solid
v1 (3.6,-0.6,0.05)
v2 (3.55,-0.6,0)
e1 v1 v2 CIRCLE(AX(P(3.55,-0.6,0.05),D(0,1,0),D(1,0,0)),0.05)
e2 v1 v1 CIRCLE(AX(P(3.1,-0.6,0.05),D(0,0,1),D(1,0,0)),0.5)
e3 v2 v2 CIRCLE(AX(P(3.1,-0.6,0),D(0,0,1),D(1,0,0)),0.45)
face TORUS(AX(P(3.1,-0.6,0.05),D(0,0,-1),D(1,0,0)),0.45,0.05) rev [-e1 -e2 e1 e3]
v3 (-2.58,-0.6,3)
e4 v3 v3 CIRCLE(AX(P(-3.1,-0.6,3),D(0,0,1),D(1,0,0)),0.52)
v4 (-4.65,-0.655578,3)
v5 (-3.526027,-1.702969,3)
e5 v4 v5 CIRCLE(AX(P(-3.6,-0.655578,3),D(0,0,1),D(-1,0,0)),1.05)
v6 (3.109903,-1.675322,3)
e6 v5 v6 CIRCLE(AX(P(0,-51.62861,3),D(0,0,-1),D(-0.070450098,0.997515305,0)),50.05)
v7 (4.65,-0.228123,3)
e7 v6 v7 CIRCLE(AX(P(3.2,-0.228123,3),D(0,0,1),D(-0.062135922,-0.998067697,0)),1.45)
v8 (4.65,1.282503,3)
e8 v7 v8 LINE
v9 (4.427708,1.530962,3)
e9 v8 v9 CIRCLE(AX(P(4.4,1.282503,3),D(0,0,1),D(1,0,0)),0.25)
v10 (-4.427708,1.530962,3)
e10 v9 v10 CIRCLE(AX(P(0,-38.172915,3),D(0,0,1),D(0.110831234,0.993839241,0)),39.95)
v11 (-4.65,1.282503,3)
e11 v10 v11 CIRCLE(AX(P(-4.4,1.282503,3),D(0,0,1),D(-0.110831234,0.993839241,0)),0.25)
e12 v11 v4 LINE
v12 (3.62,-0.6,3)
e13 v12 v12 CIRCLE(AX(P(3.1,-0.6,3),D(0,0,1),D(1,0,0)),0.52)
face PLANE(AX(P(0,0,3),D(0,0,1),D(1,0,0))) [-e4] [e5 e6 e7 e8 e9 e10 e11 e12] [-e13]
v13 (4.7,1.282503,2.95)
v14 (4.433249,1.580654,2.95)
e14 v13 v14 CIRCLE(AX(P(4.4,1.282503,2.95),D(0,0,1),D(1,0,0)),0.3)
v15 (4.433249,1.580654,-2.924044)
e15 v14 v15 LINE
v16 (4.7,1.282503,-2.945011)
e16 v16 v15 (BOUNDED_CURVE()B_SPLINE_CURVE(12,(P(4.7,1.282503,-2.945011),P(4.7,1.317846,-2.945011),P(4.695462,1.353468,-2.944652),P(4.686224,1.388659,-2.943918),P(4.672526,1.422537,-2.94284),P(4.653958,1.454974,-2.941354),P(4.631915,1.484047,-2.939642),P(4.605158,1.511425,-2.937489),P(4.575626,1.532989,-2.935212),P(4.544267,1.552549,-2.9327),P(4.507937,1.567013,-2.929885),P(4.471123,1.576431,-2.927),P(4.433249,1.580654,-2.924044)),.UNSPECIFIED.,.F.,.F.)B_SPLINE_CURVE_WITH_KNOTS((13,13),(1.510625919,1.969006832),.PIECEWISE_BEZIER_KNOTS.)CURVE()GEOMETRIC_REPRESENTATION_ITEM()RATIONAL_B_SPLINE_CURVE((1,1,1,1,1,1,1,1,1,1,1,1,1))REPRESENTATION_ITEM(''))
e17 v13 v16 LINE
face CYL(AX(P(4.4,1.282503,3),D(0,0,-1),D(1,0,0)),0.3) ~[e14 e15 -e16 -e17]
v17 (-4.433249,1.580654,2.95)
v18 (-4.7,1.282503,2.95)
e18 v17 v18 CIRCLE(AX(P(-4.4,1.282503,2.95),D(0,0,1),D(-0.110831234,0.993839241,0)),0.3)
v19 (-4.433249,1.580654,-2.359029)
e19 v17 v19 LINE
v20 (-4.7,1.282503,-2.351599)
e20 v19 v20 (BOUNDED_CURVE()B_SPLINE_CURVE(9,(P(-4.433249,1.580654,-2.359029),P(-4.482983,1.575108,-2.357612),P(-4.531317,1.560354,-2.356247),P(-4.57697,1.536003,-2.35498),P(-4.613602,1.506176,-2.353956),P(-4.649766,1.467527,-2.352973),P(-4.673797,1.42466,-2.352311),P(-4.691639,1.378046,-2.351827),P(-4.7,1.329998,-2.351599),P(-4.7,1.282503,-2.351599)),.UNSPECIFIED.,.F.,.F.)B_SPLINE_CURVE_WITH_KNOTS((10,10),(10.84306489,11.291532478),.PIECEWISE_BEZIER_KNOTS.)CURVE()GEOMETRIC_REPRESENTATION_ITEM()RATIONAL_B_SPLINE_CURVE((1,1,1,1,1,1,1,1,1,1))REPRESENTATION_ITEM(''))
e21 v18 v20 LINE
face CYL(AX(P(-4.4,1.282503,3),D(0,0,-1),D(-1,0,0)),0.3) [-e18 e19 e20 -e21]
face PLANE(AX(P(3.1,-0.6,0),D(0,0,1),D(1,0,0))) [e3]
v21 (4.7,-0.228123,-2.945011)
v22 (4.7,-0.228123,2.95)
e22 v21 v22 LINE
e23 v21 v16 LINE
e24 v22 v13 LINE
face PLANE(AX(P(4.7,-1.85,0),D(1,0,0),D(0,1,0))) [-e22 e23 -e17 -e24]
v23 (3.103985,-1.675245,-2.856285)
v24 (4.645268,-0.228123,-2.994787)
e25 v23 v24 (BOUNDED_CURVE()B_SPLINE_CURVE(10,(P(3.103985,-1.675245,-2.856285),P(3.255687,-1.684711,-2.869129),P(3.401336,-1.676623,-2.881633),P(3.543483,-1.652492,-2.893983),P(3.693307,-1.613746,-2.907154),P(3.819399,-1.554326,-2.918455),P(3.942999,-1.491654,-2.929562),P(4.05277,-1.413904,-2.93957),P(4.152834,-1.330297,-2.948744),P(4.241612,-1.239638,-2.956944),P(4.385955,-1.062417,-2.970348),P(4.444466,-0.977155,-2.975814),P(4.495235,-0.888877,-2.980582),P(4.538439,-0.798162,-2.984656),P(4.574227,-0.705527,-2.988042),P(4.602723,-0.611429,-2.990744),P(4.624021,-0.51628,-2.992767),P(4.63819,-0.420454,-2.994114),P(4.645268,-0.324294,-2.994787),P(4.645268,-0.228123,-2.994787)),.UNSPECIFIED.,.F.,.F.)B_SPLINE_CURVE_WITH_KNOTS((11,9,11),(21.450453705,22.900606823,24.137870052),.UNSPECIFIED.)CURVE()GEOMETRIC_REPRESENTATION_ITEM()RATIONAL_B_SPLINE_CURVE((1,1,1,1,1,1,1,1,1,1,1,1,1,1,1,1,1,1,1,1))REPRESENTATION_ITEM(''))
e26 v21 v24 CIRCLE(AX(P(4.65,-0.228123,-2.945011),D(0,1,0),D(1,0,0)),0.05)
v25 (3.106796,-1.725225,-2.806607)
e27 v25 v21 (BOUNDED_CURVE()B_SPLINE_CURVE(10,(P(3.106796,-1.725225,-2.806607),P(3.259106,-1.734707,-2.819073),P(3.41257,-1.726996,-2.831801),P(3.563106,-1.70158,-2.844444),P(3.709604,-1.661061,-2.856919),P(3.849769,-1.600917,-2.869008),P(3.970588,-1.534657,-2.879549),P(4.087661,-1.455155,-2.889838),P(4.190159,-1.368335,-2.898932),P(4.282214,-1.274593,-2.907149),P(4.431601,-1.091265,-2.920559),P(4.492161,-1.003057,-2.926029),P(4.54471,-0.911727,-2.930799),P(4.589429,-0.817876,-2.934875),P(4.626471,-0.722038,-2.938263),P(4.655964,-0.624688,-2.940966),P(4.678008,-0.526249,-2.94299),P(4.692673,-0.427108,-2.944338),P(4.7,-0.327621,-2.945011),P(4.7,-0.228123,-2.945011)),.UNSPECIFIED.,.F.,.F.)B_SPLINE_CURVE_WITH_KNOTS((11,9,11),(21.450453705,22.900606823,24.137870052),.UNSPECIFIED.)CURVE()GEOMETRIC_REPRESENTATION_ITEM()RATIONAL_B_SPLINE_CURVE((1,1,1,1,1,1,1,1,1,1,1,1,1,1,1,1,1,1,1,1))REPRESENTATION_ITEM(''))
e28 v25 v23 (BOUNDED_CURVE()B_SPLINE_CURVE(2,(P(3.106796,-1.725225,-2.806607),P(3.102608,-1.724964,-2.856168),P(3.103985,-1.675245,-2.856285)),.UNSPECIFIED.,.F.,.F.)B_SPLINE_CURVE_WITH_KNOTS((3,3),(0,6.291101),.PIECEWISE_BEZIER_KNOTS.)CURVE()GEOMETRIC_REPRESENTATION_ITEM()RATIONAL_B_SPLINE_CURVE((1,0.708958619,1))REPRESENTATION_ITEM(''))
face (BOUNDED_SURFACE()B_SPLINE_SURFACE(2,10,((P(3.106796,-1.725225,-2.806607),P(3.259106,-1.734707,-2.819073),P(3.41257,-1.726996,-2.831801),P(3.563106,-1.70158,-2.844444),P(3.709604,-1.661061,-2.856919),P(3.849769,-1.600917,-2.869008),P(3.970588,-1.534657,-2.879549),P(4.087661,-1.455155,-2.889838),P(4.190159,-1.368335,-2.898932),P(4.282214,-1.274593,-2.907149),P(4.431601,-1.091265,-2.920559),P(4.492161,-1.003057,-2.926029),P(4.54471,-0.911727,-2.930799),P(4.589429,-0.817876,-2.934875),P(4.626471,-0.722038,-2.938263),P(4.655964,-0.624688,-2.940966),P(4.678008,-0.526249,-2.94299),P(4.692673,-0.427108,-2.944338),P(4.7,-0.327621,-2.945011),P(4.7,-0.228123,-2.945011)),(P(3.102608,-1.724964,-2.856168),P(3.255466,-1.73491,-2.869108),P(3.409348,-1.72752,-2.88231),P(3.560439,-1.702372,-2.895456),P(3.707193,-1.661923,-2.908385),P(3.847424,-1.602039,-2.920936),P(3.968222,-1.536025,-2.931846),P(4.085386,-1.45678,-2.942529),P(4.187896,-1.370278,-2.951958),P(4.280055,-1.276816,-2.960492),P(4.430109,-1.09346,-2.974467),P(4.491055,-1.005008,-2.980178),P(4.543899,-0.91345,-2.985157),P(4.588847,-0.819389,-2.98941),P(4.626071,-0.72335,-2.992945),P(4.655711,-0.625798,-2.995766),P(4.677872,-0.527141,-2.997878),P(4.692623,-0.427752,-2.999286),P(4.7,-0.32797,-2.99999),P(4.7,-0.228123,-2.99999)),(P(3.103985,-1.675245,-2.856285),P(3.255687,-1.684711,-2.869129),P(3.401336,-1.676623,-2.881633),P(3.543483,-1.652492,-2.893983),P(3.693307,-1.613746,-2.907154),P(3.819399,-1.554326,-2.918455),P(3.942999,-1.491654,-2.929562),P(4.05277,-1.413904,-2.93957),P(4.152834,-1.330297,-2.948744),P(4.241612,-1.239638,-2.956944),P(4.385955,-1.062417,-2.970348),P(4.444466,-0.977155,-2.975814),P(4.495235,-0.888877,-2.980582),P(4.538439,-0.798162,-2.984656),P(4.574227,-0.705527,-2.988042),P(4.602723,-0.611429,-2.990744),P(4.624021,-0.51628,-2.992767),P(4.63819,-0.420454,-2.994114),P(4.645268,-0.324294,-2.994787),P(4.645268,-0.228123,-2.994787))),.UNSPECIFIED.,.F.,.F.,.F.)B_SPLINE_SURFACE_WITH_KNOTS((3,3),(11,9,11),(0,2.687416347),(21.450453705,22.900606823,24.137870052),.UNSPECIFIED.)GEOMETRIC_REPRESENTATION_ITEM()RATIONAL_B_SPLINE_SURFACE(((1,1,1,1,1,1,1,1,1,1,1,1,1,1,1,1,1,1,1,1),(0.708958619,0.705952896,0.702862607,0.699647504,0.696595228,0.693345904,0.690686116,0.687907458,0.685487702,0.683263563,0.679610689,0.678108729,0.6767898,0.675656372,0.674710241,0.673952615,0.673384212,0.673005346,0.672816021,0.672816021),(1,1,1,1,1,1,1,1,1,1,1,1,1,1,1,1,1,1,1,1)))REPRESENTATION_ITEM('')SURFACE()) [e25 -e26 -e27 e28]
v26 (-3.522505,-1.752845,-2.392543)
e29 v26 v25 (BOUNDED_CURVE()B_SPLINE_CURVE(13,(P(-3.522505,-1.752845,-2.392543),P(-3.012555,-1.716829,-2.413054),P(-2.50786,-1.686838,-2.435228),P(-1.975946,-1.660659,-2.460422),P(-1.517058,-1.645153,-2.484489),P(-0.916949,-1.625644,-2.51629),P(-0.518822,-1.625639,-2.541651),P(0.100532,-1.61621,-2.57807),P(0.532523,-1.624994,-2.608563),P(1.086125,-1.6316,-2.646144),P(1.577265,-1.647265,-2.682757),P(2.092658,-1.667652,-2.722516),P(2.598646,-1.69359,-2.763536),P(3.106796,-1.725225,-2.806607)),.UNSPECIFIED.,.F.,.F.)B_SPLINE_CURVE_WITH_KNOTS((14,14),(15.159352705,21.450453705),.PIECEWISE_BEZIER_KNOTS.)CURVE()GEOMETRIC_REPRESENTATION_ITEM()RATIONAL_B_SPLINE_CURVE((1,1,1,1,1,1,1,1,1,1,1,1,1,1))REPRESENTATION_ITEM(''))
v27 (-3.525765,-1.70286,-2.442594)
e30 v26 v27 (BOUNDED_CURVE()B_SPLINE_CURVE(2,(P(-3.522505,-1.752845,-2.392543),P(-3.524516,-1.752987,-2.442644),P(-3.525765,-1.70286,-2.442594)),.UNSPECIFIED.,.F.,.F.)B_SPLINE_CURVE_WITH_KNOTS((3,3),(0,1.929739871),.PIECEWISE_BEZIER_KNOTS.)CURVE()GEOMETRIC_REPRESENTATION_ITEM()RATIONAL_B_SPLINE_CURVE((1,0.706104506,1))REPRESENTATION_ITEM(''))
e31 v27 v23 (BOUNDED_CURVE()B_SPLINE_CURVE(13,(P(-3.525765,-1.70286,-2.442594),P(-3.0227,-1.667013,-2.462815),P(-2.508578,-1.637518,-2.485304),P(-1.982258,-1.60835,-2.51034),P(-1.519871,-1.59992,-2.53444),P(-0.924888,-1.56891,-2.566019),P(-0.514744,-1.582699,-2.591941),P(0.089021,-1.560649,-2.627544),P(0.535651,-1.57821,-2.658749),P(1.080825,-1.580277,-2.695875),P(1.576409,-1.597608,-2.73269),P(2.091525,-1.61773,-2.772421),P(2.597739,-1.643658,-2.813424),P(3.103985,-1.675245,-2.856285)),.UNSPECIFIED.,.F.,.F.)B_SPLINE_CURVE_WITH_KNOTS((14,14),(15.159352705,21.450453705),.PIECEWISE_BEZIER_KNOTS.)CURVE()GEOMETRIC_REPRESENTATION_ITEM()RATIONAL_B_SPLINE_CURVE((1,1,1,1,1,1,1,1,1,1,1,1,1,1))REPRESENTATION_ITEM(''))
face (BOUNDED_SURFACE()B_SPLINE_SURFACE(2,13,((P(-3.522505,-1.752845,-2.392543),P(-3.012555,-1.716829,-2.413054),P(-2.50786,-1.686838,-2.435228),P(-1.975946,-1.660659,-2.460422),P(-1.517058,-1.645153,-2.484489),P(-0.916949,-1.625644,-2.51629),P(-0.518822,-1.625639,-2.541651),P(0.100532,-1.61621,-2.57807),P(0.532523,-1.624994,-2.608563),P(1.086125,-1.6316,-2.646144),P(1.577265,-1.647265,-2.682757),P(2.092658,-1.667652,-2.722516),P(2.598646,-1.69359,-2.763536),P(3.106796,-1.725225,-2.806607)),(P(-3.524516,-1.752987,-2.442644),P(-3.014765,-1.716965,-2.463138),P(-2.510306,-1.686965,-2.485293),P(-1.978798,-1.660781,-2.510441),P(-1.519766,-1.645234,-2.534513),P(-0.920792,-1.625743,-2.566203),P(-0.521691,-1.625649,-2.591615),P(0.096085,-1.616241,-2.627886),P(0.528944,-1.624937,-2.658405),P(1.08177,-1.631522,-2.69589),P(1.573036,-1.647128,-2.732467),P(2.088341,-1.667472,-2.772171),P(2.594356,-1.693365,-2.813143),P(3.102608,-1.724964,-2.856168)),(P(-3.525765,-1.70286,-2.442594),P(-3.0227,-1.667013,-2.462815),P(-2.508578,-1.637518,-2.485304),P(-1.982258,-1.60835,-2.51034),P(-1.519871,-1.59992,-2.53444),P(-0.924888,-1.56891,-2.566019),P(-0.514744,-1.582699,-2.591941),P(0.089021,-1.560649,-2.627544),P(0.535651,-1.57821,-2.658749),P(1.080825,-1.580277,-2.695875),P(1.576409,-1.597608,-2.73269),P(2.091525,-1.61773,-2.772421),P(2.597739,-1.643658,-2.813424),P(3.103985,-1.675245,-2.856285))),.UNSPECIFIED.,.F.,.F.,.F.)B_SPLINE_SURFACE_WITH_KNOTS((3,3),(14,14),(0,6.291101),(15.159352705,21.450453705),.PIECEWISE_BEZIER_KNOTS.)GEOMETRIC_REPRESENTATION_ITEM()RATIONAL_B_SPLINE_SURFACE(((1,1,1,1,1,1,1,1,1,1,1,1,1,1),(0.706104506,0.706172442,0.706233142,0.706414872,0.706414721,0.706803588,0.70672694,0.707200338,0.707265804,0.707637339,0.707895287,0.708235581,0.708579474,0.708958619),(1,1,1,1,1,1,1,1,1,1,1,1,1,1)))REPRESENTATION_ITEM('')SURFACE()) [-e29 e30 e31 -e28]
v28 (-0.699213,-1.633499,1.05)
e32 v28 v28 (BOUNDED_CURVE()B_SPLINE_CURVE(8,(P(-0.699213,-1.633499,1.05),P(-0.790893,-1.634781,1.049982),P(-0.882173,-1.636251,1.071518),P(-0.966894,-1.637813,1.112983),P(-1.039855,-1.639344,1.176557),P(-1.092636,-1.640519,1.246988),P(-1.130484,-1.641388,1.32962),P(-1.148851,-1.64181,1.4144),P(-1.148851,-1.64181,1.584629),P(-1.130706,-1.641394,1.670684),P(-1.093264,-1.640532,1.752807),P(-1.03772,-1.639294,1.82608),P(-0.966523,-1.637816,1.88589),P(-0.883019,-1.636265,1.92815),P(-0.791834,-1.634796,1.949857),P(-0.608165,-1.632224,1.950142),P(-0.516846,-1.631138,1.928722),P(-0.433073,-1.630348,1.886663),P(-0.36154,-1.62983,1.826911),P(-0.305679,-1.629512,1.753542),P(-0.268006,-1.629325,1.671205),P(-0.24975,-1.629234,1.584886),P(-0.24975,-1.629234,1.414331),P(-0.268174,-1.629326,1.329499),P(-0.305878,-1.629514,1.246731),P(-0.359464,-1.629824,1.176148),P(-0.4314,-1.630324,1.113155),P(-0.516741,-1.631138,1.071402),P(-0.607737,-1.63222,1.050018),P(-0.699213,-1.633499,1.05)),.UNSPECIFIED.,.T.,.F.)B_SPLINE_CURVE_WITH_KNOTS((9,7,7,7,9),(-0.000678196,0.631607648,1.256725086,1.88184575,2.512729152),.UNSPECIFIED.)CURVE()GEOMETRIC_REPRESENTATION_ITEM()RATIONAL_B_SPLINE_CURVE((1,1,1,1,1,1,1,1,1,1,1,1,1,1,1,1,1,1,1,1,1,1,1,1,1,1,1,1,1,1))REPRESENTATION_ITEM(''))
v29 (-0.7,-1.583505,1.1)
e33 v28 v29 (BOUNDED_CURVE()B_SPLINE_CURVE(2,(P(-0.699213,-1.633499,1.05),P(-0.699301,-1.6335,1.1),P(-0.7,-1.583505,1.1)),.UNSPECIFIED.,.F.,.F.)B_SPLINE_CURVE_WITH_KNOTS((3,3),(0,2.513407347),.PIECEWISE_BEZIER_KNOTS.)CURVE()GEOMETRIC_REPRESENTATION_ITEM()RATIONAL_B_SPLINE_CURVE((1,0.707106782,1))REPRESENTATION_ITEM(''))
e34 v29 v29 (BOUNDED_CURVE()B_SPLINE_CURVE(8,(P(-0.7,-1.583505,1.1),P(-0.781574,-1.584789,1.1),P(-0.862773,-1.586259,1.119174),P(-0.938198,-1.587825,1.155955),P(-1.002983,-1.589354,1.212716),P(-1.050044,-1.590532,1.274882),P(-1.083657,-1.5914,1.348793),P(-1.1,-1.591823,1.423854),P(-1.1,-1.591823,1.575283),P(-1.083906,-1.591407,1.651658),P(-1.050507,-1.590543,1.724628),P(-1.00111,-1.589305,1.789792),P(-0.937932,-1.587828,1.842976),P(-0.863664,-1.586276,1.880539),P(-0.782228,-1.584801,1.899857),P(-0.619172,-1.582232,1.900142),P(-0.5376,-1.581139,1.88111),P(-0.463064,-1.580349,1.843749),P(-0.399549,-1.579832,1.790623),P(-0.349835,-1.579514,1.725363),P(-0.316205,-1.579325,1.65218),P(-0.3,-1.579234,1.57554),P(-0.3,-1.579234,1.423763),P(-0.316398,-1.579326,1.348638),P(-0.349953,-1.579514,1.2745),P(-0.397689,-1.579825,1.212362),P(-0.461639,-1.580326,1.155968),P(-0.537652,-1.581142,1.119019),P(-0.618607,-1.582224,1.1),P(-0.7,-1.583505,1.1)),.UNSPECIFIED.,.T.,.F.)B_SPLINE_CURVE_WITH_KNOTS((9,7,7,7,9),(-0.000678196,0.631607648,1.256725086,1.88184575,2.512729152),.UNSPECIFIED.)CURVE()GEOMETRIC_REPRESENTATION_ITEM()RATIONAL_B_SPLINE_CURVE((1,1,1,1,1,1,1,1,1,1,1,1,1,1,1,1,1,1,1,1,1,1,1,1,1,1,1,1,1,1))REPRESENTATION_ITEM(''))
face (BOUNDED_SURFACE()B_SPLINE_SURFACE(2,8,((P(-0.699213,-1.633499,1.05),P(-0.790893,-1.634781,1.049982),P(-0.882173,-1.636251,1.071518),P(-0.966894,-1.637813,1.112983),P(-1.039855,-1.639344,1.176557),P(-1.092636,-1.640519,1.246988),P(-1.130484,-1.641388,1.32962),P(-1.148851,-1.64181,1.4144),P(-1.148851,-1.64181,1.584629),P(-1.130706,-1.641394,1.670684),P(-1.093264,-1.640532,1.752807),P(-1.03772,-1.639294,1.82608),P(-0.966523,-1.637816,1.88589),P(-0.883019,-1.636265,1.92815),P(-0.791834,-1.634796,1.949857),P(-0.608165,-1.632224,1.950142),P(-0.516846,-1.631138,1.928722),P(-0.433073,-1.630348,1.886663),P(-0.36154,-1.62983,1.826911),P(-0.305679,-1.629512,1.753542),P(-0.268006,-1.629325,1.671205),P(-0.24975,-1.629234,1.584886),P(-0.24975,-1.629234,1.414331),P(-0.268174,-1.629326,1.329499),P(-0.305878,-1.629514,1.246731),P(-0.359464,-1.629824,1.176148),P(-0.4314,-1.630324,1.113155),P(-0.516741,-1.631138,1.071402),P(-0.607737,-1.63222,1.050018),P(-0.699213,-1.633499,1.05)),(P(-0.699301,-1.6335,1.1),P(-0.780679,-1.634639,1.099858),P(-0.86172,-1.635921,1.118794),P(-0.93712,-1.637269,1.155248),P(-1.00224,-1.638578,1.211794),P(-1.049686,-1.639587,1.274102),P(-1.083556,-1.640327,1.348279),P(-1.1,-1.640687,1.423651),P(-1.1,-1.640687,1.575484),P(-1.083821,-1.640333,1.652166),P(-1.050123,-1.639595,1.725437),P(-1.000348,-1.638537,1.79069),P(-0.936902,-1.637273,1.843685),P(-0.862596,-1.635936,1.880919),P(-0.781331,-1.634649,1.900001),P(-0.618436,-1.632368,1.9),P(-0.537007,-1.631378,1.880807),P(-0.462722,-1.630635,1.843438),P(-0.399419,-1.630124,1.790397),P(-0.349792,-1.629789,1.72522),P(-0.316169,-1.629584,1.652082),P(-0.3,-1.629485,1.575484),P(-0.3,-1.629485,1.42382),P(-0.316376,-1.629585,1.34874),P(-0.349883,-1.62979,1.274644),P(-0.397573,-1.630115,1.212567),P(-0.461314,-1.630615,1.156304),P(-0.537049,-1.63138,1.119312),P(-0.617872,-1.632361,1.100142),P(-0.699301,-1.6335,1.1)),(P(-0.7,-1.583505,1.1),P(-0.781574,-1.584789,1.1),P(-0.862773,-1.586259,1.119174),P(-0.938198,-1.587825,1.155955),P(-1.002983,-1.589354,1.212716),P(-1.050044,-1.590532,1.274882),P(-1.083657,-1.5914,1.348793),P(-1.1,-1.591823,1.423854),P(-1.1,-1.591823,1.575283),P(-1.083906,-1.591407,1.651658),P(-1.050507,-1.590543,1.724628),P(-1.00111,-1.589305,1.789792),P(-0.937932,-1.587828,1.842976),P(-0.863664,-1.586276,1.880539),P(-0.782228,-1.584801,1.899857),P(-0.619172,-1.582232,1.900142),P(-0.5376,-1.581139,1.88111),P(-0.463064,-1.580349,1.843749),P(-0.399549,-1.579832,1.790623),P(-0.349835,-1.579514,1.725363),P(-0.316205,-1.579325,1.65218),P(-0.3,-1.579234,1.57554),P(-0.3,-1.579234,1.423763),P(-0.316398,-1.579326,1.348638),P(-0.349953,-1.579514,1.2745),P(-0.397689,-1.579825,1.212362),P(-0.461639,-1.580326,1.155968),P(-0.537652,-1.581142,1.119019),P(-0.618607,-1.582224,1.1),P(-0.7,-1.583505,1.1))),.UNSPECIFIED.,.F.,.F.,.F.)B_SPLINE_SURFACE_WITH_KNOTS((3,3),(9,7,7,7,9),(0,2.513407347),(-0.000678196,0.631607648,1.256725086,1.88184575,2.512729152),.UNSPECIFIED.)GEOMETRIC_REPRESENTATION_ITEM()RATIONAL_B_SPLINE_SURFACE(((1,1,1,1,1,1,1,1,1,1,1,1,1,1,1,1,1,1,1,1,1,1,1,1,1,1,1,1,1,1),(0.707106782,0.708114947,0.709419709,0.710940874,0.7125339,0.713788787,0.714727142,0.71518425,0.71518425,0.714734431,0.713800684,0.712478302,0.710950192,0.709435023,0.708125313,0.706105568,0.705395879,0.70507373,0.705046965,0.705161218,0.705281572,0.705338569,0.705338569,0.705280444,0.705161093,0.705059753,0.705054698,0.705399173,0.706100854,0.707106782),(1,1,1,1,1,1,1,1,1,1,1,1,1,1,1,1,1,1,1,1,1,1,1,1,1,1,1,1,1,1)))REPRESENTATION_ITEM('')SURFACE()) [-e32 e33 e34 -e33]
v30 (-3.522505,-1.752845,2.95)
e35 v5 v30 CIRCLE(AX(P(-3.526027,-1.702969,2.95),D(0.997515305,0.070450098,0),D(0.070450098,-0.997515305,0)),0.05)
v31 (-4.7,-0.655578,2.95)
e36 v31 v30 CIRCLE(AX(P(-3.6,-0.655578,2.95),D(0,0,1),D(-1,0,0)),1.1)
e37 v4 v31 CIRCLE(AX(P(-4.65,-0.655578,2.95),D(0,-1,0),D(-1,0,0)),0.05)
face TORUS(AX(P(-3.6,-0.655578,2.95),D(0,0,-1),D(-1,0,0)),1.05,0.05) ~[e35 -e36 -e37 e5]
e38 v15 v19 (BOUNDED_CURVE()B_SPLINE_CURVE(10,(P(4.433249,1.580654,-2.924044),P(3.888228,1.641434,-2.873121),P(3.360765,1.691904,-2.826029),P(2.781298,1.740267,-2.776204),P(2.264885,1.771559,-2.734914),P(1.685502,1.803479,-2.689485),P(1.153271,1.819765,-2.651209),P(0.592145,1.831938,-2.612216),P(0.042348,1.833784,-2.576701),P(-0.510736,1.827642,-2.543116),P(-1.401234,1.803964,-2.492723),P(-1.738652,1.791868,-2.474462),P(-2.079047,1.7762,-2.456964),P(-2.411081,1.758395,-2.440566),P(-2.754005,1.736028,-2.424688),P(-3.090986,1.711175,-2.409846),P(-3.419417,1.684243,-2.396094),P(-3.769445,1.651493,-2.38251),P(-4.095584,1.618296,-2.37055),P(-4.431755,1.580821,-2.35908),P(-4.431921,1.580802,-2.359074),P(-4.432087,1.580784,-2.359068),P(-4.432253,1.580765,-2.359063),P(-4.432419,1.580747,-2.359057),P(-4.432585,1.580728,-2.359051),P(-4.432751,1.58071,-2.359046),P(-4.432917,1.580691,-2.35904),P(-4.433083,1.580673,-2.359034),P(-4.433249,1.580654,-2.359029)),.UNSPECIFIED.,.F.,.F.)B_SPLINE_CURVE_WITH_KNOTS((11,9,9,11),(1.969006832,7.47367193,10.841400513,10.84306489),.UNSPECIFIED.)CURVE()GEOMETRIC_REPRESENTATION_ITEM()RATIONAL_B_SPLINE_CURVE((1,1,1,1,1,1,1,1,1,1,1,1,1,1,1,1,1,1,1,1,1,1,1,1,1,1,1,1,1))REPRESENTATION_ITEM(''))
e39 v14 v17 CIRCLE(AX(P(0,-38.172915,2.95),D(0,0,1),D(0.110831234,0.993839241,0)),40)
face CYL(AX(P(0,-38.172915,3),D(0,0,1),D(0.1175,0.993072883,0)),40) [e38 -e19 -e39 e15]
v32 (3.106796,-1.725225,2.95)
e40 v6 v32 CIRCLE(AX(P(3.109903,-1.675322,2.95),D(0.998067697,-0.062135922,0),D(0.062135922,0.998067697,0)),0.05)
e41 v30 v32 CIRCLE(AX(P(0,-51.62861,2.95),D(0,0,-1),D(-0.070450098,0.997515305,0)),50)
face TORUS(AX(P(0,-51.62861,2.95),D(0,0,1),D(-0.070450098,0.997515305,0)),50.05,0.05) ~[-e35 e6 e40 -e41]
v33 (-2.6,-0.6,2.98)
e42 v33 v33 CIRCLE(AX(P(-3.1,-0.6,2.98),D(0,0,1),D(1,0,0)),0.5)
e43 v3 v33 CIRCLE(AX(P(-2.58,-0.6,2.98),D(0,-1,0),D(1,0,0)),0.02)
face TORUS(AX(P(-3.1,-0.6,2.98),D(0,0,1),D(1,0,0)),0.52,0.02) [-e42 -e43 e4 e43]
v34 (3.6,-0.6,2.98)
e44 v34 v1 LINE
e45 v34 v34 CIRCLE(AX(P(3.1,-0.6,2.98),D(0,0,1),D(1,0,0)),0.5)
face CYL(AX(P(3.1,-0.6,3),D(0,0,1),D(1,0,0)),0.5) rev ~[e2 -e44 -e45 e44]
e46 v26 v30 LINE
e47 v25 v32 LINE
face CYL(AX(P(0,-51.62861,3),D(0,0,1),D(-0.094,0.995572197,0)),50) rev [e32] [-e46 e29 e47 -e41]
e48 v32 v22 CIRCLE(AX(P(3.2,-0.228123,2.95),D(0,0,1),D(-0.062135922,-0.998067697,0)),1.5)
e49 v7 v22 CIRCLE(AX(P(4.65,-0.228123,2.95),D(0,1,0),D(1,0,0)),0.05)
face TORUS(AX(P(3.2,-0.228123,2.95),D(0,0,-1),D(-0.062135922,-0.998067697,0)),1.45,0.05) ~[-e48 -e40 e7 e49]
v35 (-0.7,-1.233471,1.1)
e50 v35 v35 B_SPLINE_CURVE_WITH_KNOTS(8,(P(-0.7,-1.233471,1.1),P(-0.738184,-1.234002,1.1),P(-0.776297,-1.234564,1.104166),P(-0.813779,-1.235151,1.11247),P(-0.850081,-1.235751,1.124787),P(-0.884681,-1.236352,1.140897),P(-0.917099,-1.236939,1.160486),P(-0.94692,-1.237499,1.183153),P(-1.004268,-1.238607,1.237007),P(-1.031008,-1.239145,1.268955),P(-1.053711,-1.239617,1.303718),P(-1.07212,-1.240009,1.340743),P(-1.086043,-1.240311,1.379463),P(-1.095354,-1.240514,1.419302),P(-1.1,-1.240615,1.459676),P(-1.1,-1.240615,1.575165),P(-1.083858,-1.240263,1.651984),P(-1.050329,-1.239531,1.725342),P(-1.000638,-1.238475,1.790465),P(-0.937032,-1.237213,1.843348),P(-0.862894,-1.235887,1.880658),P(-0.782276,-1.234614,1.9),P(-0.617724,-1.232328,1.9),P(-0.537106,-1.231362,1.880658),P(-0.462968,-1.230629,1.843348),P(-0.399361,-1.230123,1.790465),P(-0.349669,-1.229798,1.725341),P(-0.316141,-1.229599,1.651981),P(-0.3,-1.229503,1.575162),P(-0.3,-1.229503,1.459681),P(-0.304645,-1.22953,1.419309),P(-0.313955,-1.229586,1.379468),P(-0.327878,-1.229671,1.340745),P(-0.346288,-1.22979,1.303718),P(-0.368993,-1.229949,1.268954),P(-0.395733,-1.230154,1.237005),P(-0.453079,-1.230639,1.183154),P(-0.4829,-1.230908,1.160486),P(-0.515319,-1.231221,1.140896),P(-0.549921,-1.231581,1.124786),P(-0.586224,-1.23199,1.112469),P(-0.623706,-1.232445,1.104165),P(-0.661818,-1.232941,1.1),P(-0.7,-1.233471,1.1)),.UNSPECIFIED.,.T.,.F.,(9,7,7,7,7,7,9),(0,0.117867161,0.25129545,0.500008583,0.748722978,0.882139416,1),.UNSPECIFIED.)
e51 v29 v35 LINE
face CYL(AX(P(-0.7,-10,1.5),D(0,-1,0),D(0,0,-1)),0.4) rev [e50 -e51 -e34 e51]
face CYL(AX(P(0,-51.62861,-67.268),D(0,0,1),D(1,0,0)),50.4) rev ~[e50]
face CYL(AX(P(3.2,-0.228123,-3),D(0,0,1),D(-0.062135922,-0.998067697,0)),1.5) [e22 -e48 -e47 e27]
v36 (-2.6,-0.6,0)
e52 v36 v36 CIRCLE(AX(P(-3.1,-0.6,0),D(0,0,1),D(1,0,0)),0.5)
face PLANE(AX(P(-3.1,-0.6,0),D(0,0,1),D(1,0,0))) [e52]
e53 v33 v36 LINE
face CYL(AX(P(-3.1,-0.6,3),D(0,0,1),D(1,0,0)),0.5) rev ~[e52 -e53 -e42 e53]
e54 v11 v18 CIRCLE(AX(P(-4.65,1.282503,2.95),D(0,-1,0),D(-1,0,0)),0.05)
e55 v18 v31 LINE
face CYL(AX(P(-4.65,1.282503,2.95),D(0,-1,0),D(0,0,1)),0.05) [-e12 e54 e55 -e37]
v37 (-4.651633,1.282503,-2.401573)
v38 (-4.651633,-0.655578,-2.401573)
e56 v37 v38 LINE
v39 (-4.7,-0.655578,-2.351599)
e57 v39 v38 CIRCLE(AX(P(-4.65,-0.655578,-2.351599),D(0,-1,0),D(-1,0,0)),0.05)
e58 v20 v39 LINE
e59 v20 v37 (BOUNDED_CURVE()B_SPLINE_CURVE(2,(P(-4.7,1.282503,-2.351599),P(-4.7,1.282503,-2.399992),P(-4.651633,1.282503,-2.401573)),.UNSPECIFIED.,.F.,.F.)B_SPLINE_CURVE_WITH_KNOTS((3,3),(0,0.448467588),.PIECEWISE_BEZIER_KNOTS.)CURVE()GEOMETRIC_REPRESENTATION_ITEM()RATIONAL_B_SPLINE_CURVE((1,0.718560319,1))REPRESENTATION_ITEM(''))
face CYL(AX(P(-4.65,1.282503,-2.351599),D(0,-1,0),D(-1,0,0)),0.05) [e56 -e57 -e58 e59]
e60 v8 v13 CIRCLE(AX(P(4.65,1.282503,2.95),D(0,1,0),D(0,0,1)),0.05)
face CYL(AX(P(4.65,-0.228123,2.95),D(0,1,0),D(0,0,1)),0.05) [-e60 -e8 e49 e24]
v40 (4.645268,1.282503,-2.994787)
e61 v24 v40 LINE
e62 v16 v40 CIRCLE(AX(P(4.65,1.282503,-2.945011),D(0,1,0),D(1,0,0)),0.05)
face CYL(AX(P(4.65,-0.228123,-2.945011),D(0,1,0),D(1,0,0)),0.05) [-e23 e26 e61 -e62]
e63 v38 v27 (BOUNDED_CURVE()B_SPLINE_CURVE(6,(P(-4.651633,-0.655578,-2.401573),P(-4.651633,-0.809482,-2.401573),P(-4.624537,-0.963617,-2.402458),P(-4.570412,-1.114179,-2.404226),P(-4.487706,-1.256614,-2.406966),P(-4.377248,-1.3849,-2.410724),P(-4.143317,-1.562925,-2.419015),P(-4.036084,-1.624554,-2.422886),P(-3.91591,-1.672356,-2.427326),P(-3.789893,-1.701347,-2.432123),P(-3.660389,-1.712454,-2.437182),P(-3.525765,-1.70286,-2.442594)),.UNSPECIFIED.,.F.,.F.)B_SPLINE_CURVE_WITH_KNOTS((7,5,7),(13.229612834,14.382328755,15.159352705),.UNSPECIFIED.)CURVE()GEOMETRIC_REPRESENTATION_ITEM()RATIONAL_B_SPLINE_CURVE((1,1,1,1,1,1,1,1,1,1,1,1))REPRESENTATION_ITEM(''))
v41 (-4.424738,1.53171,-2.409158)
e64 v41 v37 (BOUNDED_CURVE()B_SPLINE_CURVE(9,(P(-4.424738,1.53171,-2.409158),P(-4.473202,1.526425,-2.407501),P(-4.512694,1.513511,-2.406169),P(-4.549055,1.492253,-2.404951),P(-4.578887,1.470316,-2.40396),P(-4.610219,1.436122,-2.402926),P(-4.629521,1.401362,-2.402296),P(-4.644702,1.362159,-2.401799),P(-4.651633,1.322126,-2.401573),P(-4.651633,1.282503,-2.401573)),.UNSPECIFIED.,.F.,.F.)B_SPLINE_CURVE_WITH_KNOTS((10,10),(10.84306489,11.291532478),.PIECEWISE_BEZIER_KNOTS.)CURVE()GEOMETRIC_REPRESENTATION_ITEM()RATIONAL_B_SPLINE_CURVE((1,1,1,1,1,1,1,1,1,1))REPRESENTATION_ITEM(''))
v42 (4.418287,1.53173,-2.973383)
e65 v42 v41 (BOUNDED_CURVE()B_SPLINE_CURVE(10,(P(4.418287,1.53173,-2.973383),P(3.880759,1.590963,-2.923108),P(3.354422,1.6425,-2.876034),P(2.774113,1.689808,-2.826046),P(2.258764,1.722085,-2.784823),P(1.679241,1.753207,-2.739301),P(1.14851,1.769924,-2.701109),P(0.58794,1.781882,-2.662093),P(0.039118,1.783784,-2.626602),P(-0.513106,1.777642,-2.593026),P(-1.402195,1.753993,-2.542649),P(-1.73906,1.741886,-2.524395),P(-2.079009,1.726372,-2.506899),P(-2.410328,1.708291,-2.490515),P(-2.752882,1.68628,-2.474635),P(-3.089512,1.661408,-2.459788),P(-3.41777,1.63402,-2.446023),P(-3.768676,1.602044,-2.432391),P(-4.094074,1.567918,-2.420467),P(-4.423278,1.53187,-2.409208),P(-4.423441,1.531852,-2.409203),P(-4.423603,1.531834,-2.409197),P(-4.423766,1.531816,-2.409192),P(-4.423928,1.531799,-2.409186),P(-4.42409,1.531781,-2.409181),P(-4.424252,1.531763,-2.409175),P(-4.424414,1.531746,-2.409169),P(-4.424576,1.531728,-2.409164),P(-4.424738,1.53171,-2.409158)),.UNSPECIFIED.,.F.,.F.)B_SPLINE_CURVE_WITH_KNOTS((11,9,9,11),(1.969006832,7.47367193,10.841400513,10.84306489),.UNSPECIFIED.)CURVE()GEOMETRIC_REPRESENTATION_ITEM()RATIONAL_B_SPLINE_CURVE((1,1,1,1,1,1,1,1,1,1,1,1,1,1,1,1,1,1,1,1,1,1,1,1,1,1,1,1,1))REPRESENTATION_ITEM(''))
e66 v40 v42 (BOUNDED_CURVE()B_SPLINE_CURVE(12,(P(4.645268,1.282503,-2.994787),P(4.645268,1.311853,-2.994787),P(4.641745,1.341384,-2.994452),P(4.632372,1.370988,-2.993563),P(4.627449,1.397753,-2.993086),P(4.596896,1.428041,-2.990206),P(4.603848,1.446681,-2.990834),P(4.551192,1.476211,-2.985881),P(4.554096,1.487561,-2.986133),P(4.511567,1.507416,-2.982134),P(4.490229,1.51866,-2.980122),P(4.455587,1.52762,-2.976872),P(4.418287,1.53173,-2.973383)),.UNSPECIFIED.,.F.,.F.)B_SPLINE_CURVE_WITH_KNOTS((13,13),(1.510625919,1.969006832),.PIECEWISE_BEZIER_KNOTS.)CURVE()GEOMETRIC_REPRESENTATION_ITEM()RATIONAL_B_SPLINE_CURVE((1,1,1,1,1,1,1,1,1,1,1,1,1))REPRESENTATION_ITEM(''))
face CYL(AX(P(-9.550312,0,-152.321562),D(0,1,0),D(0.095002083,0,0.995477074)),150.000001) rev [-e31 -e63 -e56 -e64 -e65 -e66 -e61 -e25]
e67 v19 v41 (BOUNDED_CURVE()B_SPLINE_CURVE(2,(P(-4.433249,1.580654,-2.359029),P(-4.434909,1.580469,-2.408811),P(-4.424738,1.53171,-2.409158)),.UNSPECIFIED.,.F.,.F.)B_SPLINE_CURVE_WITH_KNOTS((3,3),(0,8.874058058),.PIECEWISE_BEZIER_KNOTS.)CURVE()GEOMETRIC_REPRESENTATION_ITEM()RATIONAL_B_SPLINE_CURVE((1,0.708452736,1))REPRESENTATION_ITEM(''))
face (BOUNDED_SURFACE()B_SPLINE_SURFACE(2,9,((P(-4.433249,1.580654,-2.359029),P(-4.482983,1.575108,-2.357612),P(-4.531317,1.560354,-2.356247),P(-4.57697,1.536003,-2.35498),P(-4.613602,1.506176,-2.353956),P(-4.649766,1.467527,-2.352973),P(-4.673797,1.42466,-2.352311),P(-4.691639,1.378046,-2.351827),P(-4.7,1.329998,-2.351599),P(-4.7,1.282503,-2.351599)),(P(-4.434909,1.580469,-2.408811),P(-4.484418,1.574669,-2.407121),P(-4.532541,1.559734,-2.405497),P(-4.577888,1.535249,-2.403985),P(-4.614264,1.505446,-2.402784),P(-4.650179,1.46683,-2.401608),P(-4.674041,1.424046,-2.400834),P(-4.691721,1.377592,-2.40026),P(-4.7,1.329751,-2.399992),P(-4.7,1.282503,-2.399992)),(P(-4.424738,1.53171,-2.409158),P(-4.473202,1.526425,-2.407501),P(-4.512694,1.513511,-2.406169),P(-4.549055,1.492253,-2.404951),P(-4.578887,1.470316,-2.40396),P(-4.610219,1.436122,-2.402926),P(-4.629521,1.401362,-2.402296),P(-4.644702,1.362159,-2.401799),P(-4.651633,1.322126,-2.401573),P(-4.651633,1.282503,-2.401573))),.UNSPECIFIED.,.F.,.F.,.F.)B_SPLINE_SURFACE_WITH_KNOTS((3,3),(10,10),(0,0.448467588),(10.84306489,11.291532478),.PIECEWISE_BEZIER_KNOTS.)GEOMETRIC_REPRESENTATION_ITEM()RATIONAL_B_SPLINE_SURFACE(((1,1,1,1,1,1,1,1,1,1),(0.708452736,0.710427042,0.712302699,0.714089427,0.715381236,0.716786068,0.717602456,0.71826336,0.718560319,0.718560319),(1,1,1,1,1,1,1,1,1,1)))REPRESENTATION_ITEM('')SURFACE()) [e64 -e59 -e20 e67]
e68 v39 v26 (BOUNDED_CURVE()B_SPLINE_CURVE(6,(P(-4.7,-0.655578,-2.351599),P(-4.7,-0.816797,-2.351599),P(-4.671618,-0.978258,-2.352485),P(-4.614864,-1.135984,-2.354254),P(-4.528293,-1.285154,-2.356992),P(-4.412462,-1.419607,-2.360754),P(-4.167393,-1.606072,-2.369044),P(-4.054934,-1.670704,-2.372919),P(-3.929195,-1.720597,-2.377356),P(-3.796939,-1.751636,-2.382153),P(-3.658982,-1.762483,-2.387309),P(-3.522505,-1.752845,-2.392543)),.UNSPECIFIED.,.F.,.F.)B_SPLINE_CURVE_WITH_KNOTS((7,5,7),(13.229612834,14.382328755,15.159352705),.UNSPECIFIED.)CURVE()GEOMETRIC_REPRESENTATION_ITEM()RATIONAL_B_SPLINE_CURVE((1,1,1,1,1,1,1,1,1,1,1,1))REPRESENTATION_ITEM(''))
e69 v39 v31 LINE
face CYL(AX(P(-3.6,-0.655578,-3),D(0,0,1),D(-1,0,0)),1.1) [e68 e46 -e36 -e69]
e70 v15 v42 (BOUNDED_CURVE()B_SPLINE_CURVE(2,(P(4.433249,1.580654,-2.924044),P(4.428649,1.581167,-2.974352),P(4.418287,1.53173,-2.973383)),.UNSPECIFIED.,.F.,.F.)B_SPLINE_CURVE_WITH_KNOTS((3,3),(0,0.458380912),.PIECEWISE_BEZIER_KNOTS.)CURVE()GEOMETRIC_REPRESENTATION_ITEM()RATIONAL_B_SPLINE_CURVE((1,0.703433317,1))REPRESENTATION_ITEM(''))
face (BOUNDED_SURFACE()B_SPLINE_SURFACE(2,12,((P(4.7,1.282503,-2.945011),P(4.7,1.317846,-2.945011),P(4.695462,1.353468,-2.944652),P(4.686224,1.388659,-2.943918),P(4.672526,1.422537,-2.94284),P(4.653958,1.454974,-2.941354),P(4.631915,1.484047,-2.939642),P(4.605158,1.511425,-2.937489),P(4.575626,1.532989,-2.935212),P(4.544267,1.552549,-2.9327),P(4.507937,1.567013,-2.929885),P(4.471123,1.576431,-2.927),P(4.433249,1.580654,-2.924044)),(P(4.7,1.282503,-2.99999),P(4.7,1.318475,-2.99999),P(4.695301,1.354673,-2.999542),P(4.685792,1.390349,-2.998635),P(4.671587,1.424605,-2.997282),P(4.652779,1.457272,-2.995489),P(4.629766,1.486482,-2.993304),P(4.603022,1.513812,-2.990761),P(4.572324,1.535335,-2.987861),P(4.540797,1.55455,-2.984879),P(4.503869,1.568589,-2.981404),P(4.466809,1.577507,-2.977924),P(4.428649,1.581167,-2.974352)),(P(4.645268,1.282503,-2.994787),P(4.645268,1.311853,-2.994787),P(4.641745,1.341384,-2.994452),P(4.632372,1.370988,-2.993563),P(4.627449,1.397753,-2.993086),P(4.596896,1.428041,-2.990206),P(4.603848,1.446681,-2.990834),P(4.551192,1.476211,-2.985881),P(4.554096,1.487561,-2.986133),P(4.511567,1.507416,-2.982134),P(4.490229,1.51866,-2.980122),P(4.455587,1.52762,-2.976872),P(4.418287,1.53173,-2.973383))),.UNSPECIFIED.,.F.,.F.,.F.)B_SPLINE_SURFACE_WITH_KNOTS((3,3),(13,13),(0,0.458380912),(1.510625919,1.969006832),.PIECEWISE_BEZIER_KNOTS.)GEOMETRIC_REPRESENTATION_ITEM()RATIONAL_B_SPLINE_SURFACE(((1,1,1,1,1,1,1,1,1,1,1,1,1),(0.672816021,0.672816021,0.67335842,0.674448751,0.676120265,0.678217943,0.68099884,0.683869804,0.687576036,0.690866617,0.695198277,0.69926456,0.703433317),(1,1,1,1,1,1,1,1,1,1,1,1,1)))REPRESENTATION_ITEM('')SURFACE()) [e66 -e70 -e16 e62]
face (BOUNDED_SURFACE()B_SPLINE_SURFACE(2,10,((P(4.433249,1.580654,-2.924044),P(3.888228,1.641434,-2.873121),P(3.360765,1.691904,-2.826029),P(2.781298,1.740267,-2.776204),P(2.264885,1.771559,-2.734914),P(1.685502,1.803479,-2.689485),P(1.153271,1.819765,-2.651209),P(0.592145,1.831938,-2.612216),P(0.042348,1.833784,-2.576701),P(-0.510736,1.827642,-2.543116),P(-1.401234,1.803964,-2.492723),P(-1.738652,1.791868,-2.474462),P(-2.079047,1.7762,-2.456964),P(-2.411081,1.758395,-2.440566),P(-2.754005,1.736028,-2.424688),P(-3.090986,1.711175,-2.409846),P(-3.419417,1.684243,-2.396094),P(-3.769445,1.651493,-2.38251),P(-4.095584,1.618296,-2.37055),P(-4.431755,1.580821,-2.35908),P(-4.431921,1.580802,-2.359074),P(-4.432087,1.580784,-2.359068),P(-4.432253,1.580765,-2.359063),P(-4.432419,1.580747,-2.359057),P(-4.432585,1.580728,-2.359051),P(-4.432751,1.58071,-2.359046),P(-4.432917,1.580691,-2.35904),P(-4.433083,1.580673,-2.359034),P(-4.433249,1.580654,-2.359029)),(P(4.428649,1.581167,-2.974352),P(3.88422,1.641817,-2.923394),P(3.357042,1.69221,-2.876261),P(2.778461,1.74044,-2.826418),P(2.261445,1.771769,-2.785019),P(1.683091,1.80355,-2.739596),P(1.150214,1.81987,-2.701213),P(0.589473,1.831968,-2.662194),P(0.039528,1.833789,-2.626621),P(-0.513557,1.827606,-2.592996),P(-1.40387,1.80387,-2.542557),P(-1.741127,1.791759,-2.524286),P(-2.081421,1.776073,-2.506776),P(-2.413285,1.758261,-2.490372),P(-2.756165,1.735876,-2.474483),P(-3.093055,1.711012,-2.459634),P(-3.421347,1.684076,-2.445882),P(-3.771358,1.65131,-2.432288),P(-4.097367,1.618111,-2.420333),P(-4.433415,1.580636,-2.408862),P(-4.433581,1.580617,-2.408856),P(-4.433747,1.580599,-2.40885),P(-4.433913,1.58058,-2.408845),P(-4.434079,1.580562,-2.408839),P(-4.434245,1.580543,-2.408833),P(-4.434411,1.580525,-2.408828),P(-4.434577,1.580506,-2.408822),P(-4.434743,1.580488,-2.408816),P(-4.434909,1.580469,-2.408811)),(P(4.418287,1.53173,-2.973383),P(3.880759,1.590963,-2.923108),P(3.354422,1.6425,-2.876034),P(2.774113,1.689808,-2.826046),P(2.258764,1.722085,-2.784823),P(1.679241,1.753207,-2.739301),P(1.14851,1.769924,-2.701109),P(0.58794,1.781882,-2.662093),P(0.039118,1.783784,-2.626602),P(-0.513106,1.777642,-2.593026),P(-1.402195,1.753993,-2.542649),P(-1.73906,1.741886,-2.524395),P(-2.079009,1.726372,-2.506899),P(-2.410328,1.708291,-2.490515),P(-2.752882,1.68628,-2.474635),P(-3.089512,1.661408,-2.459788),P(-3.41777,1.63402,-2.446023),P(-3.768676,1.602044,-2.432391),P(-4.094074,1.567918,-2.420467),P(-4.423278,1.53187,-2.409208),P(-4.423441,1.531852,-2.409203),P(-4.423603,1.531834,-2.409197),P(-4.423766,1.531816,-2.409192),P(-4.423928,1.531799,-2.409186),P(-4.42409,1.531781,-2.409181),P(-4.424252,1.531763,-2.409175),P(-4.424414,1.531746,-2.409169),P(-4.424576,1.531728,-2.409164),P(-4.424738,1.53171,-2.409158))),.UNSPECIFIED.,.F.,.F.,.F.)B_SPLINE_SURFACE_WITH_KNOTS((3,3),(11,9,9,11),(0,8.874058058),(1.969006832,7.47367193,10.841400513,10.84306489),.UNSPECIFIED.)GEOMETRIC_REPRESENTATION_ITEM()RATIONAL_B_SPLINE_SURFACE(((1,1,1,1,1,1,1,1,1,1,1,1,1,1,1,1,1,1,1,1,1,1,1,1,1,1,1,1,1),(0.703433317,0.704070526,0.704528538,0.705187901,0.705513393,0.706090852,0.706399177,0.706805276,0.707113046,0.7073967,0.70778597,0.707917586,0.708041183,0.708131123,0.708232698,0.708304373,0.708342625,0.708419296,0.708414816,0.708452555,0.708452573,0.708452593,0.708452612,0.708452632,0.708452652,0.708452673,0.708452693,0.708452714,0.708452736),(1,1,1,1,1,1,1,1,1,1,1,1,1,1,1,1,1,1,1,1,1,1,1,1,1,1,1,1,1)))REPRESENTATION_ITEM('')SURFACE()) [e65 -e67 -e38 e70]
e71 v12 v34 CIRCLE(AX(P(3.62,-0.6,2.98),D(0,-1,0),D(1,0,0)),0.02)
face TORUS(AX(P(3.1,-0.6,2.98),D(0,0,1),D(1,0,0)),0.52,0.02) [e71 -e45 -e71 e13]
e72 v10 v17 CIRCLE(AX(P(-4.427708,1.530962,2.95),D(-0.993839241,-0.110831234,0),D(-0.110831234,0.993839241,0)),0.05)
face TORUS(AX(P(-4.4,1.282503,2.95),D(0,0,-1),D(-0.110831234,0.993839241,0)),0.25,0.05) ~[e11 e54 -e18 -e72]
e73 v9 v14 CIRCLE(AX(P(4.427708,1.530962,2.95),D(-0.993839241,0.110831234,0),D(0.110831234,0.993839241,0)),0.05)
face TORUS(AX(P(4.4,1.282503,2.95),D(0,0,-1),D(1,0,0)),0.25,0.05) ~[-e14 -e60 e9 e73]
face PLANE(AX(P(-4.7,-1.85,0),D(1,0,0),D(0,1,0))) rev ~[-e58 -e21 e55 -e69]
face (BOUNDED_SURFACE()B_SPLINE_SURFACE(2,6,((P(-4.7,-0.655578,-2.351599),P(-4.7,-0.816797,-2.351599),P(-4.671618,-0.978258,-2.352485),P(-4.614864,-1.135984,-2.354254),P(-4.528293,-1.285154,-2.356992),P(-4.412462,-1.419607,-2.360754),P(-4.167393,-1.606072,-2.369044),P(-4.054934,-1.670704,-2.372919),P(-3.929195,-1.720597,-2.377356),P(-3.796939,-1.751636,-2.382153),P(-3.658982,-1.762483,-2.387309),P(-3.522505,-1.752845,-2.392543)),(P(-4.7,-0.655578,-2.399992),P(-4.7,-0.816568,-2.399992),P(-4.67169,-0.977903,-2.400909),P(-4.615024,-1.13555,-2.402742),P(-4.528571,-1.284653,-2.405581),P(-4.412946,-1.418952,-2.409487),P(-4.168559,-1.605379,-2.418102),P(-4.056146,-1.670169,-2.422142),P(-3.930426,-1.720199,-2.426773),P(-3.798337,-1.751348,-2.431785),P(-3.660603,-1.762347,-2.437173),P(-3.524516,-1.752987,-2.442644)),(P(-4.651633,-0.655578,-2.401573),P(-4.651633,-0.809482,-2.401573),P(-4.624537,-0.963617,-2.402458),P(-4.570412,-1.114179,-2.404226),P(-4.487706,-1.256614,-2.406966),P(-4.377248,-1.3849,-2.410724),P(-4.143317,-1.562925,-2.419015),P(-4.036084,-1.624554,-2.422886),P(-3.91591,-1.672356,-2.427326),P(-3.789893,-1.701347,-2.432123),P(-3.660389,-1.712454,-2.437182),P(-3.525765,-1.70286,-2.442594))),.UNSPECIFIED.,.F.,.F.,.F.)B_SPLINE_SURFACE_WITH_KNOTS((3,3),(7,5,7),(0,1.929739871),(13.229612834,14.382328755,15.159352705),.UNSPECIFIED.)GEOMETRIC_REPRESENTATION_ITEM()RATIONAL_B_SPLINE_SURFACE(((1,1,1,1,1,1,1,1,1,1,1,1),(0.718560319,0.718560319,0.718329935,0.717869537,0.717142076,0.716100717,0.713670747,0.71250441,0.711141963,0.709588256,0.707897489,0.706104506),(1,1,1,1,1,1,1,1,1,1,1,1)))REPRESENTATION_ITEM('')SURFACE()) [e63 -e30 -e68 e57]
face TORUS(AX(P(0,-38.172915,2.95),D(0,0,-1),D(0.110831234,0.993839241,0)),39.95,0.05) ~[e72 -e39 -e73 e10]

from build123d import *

# Parameters (mm, degrees)
SKETCH1_W               = 9.4
SKETCH1_H               = 3.7
BOSS_EXTRUDE1_DEPTH     = 3
CUT_EXTRUDE1_DEPTH      = 15.6
FILLET1_R               = 1.1
FILLET6_R               = 1.5
FILLET2_R               = 0.3
SKETCH3_R               = 0.5
CUT_EXTRUDE2_DEPTH      = 3
CUT_EXTRUDE3_DEPTH      = 5
FILLET5_R               = 0.05
CUT_EXTRUDE5_REACH      = 17.868
CUT_EXTRUDE5_END_RADIUS = 50.4
CUT_EXTRUDE5_START      = -10
SKETCH5_R               = 0.4
FILLET7_R               = 0.05
FILLET8_R               = 0.02


with BuildPart() as part:
    # Sketch1 → Boss-Extrude1 (new, symmetric)
    with BuildSketch(Plane.XY):
        Rectangle(SKETCH1_W, SKETCH1_H)
    extrude(amount=BOSS_EXTRUDE1_DEPTH, both=True)

    # Sketch2 → Cut-Extrude1 (cut)
    with BuildSketch(Plane.XY.offset(3)):
        with BuildLine():
            Line((-4.7, 1.55), (-7.120690005, 4.011417256))
            Line((-7.120690005, 4.011417256), (5.535860742, 3.886722174))
            Line((5.535860742, 3.886722174), (4.7, 1.55))
            ThreePointArc((4.7, 1.55), (0, 1.827084699), (-4.7, 1.55))
        make_face()
        with BuildLine():
            Line((4.7, -1.85), (0.350623614, -3.782025322))
            Line((0.350623614, -3.782025322), (-4.7, -1.85))
            ThreePointArc((-4.7, -1.85), (0, -1.628609864), (4.7, -1.85))
        make_face()
    extrude(amount=-CUT_EXTRUDE1_DEPTH, mode=Mode.SUBTRACT)

    # Fillet1
    fillet1_edges = [part.edges().sort_by_distance(p)[0] for p in [
        (-4.7, -1.85, 0),
    ]]
    fillet(fillet1_edges, radius=FILLET1_R)

    # Fillet6
    fillet6_edges = [part.edges().sort_by_distance(p)[0] for p in [
        (4.7, -1.85, 0),
    ]]
    fillet(fillet6_edges, radius=FILLET6_R)

    # Fillet2
    fillet2_edges = [part.edges().sort_by_distance(p)[0] for p in [
        (4.7, 1.55, 0),
        (-4.7, 1.55, 0),
    ]]
    fillet(fillet2_edges, radius=FILLET2_R)

    # Sketch3 → Cut-Extrude2 (cut)
    with BuildSketch(Plane.XY.offset(3)):
        with Locations((3.1, -0.6)):
            Circle(SKETCH3_R)
        with Locations((-3.1, -0.6)):
            Circle(SKETCH3_R)
    extrude(amount=-CUT_EXTRUDE2_DEPTH, mode=Mode.SUBTRACT)

    # Sketch4 → Cut-Extrude3 (cut, symmetric)
    with BuildSketch(Plane(origin=(0, 0, 0), x_dir=(1, 0, 0), z_dir=(0, 1, 0))):
        with BuildLine():
            Line((-4.7, 2.4), (-6.612719149, 4.113907535))
            Line((-6.612719149, 4.113907535), (6.420677859, 4.974089961))
            Line((6.420677859, 4.974089961), (4.7, 3))
            ThreePointArc((4.7, 3), (0.004710726, 2.626198627), (-4.7, 2.4))
        make_face()
    extrude(amount=CUT_EXTRUDE3_DEPTH, both=True, mode=Mode.SUBTRACT)

    # Fillet5
    fillet5_edges = [part.edges().sort_by_distance(p)[0] for p in [
        (-4.349918456, -1.460327621, 3),
        (4.7, 0.527189546, -3),
        (4.7, 0.527189546, 3),
        (-0.208312642, -1.629043808, 3),
        (4.22717919, -1.321239633, 3),
        (0, 1.827084699, 3),
        (-4.7, 0.3134624, 3),
        (-4.623578634, 1.482534062, 3),
        (4.623578634, 1.482534062, 3),
        (2.6, -0.6, 0),
        (-4.623553452, 1.482562201, -2.402492735),
        (-4.349757648, -1.460477444, -2.41174073),
        (4.226094878, -1.322257528, -2.955532113),
        (4.623384052, 1.482751333, -2.992708088),
        (-0.206022635, -1.629034318, -2.612896489),
        (0.004177998, 1.827084481, -2.626164624),
        (-4.7, 0.3134624, -2.4),
    ]]
    fillet(fillet5_edges, radius=FILLET5_R)

    # Cut-Extrude5: up to this cylinder (the profile starts inside it)
    cut_extrude5_end = Plane(origin=(0, -51.628609864, 1.5), z_dir=(0, 0, 1)) * Cylinder(CUT_EXTRUDE5_END_RADIUS, 137.536, mode=Mode.PRIVATE)
    # Sketch5 → Cut-Extrude5 (cut, up to the surface)
    with BuildSketch(Plane(origin=(0, 0, 0), x_dir=(1, 0, 0), z_dir=(0, 1, 0)).offset(CUT_EXTRUDE5_START), mode=Mode.PRIVATE) as cut_extrude5_sk1:
        with Locations(Location((-0.7, -1.5, 0), (0, 0, 90))):
            Circle(SKETCH5_R)
    cut_extrude5_tool1 = extrude(cut_extrude5_sk1.sketch, amount=CUT_EXTRUDE5_REACH, mode=Mode.PRIVATE) & cut_extrude5_end
    add(cut_extrude5_tool1.solids().sort_by_distance((-0.7, -10, 1.5))[0], mode=Mode.SUBTRACT)

    # Fillet7
    fillet7_edges = [part.edges().sort_by_distance(p)[0] for p in [
        (-0.700029875, -1.633510522, 1.899999999),
    ]]
    fillet(fillet7_edges, radius=FILLET7_R)

    # Fillet8
    fillet8_edges = [part.edges().sort_by_distance(p)[0] for p in [
        (2.6, -0.6, 3),
        (-3.6, -0.6, 3),
    ]]
    fillet(fillet8_edges, radius=FILLET8_R)


solid = part.part
